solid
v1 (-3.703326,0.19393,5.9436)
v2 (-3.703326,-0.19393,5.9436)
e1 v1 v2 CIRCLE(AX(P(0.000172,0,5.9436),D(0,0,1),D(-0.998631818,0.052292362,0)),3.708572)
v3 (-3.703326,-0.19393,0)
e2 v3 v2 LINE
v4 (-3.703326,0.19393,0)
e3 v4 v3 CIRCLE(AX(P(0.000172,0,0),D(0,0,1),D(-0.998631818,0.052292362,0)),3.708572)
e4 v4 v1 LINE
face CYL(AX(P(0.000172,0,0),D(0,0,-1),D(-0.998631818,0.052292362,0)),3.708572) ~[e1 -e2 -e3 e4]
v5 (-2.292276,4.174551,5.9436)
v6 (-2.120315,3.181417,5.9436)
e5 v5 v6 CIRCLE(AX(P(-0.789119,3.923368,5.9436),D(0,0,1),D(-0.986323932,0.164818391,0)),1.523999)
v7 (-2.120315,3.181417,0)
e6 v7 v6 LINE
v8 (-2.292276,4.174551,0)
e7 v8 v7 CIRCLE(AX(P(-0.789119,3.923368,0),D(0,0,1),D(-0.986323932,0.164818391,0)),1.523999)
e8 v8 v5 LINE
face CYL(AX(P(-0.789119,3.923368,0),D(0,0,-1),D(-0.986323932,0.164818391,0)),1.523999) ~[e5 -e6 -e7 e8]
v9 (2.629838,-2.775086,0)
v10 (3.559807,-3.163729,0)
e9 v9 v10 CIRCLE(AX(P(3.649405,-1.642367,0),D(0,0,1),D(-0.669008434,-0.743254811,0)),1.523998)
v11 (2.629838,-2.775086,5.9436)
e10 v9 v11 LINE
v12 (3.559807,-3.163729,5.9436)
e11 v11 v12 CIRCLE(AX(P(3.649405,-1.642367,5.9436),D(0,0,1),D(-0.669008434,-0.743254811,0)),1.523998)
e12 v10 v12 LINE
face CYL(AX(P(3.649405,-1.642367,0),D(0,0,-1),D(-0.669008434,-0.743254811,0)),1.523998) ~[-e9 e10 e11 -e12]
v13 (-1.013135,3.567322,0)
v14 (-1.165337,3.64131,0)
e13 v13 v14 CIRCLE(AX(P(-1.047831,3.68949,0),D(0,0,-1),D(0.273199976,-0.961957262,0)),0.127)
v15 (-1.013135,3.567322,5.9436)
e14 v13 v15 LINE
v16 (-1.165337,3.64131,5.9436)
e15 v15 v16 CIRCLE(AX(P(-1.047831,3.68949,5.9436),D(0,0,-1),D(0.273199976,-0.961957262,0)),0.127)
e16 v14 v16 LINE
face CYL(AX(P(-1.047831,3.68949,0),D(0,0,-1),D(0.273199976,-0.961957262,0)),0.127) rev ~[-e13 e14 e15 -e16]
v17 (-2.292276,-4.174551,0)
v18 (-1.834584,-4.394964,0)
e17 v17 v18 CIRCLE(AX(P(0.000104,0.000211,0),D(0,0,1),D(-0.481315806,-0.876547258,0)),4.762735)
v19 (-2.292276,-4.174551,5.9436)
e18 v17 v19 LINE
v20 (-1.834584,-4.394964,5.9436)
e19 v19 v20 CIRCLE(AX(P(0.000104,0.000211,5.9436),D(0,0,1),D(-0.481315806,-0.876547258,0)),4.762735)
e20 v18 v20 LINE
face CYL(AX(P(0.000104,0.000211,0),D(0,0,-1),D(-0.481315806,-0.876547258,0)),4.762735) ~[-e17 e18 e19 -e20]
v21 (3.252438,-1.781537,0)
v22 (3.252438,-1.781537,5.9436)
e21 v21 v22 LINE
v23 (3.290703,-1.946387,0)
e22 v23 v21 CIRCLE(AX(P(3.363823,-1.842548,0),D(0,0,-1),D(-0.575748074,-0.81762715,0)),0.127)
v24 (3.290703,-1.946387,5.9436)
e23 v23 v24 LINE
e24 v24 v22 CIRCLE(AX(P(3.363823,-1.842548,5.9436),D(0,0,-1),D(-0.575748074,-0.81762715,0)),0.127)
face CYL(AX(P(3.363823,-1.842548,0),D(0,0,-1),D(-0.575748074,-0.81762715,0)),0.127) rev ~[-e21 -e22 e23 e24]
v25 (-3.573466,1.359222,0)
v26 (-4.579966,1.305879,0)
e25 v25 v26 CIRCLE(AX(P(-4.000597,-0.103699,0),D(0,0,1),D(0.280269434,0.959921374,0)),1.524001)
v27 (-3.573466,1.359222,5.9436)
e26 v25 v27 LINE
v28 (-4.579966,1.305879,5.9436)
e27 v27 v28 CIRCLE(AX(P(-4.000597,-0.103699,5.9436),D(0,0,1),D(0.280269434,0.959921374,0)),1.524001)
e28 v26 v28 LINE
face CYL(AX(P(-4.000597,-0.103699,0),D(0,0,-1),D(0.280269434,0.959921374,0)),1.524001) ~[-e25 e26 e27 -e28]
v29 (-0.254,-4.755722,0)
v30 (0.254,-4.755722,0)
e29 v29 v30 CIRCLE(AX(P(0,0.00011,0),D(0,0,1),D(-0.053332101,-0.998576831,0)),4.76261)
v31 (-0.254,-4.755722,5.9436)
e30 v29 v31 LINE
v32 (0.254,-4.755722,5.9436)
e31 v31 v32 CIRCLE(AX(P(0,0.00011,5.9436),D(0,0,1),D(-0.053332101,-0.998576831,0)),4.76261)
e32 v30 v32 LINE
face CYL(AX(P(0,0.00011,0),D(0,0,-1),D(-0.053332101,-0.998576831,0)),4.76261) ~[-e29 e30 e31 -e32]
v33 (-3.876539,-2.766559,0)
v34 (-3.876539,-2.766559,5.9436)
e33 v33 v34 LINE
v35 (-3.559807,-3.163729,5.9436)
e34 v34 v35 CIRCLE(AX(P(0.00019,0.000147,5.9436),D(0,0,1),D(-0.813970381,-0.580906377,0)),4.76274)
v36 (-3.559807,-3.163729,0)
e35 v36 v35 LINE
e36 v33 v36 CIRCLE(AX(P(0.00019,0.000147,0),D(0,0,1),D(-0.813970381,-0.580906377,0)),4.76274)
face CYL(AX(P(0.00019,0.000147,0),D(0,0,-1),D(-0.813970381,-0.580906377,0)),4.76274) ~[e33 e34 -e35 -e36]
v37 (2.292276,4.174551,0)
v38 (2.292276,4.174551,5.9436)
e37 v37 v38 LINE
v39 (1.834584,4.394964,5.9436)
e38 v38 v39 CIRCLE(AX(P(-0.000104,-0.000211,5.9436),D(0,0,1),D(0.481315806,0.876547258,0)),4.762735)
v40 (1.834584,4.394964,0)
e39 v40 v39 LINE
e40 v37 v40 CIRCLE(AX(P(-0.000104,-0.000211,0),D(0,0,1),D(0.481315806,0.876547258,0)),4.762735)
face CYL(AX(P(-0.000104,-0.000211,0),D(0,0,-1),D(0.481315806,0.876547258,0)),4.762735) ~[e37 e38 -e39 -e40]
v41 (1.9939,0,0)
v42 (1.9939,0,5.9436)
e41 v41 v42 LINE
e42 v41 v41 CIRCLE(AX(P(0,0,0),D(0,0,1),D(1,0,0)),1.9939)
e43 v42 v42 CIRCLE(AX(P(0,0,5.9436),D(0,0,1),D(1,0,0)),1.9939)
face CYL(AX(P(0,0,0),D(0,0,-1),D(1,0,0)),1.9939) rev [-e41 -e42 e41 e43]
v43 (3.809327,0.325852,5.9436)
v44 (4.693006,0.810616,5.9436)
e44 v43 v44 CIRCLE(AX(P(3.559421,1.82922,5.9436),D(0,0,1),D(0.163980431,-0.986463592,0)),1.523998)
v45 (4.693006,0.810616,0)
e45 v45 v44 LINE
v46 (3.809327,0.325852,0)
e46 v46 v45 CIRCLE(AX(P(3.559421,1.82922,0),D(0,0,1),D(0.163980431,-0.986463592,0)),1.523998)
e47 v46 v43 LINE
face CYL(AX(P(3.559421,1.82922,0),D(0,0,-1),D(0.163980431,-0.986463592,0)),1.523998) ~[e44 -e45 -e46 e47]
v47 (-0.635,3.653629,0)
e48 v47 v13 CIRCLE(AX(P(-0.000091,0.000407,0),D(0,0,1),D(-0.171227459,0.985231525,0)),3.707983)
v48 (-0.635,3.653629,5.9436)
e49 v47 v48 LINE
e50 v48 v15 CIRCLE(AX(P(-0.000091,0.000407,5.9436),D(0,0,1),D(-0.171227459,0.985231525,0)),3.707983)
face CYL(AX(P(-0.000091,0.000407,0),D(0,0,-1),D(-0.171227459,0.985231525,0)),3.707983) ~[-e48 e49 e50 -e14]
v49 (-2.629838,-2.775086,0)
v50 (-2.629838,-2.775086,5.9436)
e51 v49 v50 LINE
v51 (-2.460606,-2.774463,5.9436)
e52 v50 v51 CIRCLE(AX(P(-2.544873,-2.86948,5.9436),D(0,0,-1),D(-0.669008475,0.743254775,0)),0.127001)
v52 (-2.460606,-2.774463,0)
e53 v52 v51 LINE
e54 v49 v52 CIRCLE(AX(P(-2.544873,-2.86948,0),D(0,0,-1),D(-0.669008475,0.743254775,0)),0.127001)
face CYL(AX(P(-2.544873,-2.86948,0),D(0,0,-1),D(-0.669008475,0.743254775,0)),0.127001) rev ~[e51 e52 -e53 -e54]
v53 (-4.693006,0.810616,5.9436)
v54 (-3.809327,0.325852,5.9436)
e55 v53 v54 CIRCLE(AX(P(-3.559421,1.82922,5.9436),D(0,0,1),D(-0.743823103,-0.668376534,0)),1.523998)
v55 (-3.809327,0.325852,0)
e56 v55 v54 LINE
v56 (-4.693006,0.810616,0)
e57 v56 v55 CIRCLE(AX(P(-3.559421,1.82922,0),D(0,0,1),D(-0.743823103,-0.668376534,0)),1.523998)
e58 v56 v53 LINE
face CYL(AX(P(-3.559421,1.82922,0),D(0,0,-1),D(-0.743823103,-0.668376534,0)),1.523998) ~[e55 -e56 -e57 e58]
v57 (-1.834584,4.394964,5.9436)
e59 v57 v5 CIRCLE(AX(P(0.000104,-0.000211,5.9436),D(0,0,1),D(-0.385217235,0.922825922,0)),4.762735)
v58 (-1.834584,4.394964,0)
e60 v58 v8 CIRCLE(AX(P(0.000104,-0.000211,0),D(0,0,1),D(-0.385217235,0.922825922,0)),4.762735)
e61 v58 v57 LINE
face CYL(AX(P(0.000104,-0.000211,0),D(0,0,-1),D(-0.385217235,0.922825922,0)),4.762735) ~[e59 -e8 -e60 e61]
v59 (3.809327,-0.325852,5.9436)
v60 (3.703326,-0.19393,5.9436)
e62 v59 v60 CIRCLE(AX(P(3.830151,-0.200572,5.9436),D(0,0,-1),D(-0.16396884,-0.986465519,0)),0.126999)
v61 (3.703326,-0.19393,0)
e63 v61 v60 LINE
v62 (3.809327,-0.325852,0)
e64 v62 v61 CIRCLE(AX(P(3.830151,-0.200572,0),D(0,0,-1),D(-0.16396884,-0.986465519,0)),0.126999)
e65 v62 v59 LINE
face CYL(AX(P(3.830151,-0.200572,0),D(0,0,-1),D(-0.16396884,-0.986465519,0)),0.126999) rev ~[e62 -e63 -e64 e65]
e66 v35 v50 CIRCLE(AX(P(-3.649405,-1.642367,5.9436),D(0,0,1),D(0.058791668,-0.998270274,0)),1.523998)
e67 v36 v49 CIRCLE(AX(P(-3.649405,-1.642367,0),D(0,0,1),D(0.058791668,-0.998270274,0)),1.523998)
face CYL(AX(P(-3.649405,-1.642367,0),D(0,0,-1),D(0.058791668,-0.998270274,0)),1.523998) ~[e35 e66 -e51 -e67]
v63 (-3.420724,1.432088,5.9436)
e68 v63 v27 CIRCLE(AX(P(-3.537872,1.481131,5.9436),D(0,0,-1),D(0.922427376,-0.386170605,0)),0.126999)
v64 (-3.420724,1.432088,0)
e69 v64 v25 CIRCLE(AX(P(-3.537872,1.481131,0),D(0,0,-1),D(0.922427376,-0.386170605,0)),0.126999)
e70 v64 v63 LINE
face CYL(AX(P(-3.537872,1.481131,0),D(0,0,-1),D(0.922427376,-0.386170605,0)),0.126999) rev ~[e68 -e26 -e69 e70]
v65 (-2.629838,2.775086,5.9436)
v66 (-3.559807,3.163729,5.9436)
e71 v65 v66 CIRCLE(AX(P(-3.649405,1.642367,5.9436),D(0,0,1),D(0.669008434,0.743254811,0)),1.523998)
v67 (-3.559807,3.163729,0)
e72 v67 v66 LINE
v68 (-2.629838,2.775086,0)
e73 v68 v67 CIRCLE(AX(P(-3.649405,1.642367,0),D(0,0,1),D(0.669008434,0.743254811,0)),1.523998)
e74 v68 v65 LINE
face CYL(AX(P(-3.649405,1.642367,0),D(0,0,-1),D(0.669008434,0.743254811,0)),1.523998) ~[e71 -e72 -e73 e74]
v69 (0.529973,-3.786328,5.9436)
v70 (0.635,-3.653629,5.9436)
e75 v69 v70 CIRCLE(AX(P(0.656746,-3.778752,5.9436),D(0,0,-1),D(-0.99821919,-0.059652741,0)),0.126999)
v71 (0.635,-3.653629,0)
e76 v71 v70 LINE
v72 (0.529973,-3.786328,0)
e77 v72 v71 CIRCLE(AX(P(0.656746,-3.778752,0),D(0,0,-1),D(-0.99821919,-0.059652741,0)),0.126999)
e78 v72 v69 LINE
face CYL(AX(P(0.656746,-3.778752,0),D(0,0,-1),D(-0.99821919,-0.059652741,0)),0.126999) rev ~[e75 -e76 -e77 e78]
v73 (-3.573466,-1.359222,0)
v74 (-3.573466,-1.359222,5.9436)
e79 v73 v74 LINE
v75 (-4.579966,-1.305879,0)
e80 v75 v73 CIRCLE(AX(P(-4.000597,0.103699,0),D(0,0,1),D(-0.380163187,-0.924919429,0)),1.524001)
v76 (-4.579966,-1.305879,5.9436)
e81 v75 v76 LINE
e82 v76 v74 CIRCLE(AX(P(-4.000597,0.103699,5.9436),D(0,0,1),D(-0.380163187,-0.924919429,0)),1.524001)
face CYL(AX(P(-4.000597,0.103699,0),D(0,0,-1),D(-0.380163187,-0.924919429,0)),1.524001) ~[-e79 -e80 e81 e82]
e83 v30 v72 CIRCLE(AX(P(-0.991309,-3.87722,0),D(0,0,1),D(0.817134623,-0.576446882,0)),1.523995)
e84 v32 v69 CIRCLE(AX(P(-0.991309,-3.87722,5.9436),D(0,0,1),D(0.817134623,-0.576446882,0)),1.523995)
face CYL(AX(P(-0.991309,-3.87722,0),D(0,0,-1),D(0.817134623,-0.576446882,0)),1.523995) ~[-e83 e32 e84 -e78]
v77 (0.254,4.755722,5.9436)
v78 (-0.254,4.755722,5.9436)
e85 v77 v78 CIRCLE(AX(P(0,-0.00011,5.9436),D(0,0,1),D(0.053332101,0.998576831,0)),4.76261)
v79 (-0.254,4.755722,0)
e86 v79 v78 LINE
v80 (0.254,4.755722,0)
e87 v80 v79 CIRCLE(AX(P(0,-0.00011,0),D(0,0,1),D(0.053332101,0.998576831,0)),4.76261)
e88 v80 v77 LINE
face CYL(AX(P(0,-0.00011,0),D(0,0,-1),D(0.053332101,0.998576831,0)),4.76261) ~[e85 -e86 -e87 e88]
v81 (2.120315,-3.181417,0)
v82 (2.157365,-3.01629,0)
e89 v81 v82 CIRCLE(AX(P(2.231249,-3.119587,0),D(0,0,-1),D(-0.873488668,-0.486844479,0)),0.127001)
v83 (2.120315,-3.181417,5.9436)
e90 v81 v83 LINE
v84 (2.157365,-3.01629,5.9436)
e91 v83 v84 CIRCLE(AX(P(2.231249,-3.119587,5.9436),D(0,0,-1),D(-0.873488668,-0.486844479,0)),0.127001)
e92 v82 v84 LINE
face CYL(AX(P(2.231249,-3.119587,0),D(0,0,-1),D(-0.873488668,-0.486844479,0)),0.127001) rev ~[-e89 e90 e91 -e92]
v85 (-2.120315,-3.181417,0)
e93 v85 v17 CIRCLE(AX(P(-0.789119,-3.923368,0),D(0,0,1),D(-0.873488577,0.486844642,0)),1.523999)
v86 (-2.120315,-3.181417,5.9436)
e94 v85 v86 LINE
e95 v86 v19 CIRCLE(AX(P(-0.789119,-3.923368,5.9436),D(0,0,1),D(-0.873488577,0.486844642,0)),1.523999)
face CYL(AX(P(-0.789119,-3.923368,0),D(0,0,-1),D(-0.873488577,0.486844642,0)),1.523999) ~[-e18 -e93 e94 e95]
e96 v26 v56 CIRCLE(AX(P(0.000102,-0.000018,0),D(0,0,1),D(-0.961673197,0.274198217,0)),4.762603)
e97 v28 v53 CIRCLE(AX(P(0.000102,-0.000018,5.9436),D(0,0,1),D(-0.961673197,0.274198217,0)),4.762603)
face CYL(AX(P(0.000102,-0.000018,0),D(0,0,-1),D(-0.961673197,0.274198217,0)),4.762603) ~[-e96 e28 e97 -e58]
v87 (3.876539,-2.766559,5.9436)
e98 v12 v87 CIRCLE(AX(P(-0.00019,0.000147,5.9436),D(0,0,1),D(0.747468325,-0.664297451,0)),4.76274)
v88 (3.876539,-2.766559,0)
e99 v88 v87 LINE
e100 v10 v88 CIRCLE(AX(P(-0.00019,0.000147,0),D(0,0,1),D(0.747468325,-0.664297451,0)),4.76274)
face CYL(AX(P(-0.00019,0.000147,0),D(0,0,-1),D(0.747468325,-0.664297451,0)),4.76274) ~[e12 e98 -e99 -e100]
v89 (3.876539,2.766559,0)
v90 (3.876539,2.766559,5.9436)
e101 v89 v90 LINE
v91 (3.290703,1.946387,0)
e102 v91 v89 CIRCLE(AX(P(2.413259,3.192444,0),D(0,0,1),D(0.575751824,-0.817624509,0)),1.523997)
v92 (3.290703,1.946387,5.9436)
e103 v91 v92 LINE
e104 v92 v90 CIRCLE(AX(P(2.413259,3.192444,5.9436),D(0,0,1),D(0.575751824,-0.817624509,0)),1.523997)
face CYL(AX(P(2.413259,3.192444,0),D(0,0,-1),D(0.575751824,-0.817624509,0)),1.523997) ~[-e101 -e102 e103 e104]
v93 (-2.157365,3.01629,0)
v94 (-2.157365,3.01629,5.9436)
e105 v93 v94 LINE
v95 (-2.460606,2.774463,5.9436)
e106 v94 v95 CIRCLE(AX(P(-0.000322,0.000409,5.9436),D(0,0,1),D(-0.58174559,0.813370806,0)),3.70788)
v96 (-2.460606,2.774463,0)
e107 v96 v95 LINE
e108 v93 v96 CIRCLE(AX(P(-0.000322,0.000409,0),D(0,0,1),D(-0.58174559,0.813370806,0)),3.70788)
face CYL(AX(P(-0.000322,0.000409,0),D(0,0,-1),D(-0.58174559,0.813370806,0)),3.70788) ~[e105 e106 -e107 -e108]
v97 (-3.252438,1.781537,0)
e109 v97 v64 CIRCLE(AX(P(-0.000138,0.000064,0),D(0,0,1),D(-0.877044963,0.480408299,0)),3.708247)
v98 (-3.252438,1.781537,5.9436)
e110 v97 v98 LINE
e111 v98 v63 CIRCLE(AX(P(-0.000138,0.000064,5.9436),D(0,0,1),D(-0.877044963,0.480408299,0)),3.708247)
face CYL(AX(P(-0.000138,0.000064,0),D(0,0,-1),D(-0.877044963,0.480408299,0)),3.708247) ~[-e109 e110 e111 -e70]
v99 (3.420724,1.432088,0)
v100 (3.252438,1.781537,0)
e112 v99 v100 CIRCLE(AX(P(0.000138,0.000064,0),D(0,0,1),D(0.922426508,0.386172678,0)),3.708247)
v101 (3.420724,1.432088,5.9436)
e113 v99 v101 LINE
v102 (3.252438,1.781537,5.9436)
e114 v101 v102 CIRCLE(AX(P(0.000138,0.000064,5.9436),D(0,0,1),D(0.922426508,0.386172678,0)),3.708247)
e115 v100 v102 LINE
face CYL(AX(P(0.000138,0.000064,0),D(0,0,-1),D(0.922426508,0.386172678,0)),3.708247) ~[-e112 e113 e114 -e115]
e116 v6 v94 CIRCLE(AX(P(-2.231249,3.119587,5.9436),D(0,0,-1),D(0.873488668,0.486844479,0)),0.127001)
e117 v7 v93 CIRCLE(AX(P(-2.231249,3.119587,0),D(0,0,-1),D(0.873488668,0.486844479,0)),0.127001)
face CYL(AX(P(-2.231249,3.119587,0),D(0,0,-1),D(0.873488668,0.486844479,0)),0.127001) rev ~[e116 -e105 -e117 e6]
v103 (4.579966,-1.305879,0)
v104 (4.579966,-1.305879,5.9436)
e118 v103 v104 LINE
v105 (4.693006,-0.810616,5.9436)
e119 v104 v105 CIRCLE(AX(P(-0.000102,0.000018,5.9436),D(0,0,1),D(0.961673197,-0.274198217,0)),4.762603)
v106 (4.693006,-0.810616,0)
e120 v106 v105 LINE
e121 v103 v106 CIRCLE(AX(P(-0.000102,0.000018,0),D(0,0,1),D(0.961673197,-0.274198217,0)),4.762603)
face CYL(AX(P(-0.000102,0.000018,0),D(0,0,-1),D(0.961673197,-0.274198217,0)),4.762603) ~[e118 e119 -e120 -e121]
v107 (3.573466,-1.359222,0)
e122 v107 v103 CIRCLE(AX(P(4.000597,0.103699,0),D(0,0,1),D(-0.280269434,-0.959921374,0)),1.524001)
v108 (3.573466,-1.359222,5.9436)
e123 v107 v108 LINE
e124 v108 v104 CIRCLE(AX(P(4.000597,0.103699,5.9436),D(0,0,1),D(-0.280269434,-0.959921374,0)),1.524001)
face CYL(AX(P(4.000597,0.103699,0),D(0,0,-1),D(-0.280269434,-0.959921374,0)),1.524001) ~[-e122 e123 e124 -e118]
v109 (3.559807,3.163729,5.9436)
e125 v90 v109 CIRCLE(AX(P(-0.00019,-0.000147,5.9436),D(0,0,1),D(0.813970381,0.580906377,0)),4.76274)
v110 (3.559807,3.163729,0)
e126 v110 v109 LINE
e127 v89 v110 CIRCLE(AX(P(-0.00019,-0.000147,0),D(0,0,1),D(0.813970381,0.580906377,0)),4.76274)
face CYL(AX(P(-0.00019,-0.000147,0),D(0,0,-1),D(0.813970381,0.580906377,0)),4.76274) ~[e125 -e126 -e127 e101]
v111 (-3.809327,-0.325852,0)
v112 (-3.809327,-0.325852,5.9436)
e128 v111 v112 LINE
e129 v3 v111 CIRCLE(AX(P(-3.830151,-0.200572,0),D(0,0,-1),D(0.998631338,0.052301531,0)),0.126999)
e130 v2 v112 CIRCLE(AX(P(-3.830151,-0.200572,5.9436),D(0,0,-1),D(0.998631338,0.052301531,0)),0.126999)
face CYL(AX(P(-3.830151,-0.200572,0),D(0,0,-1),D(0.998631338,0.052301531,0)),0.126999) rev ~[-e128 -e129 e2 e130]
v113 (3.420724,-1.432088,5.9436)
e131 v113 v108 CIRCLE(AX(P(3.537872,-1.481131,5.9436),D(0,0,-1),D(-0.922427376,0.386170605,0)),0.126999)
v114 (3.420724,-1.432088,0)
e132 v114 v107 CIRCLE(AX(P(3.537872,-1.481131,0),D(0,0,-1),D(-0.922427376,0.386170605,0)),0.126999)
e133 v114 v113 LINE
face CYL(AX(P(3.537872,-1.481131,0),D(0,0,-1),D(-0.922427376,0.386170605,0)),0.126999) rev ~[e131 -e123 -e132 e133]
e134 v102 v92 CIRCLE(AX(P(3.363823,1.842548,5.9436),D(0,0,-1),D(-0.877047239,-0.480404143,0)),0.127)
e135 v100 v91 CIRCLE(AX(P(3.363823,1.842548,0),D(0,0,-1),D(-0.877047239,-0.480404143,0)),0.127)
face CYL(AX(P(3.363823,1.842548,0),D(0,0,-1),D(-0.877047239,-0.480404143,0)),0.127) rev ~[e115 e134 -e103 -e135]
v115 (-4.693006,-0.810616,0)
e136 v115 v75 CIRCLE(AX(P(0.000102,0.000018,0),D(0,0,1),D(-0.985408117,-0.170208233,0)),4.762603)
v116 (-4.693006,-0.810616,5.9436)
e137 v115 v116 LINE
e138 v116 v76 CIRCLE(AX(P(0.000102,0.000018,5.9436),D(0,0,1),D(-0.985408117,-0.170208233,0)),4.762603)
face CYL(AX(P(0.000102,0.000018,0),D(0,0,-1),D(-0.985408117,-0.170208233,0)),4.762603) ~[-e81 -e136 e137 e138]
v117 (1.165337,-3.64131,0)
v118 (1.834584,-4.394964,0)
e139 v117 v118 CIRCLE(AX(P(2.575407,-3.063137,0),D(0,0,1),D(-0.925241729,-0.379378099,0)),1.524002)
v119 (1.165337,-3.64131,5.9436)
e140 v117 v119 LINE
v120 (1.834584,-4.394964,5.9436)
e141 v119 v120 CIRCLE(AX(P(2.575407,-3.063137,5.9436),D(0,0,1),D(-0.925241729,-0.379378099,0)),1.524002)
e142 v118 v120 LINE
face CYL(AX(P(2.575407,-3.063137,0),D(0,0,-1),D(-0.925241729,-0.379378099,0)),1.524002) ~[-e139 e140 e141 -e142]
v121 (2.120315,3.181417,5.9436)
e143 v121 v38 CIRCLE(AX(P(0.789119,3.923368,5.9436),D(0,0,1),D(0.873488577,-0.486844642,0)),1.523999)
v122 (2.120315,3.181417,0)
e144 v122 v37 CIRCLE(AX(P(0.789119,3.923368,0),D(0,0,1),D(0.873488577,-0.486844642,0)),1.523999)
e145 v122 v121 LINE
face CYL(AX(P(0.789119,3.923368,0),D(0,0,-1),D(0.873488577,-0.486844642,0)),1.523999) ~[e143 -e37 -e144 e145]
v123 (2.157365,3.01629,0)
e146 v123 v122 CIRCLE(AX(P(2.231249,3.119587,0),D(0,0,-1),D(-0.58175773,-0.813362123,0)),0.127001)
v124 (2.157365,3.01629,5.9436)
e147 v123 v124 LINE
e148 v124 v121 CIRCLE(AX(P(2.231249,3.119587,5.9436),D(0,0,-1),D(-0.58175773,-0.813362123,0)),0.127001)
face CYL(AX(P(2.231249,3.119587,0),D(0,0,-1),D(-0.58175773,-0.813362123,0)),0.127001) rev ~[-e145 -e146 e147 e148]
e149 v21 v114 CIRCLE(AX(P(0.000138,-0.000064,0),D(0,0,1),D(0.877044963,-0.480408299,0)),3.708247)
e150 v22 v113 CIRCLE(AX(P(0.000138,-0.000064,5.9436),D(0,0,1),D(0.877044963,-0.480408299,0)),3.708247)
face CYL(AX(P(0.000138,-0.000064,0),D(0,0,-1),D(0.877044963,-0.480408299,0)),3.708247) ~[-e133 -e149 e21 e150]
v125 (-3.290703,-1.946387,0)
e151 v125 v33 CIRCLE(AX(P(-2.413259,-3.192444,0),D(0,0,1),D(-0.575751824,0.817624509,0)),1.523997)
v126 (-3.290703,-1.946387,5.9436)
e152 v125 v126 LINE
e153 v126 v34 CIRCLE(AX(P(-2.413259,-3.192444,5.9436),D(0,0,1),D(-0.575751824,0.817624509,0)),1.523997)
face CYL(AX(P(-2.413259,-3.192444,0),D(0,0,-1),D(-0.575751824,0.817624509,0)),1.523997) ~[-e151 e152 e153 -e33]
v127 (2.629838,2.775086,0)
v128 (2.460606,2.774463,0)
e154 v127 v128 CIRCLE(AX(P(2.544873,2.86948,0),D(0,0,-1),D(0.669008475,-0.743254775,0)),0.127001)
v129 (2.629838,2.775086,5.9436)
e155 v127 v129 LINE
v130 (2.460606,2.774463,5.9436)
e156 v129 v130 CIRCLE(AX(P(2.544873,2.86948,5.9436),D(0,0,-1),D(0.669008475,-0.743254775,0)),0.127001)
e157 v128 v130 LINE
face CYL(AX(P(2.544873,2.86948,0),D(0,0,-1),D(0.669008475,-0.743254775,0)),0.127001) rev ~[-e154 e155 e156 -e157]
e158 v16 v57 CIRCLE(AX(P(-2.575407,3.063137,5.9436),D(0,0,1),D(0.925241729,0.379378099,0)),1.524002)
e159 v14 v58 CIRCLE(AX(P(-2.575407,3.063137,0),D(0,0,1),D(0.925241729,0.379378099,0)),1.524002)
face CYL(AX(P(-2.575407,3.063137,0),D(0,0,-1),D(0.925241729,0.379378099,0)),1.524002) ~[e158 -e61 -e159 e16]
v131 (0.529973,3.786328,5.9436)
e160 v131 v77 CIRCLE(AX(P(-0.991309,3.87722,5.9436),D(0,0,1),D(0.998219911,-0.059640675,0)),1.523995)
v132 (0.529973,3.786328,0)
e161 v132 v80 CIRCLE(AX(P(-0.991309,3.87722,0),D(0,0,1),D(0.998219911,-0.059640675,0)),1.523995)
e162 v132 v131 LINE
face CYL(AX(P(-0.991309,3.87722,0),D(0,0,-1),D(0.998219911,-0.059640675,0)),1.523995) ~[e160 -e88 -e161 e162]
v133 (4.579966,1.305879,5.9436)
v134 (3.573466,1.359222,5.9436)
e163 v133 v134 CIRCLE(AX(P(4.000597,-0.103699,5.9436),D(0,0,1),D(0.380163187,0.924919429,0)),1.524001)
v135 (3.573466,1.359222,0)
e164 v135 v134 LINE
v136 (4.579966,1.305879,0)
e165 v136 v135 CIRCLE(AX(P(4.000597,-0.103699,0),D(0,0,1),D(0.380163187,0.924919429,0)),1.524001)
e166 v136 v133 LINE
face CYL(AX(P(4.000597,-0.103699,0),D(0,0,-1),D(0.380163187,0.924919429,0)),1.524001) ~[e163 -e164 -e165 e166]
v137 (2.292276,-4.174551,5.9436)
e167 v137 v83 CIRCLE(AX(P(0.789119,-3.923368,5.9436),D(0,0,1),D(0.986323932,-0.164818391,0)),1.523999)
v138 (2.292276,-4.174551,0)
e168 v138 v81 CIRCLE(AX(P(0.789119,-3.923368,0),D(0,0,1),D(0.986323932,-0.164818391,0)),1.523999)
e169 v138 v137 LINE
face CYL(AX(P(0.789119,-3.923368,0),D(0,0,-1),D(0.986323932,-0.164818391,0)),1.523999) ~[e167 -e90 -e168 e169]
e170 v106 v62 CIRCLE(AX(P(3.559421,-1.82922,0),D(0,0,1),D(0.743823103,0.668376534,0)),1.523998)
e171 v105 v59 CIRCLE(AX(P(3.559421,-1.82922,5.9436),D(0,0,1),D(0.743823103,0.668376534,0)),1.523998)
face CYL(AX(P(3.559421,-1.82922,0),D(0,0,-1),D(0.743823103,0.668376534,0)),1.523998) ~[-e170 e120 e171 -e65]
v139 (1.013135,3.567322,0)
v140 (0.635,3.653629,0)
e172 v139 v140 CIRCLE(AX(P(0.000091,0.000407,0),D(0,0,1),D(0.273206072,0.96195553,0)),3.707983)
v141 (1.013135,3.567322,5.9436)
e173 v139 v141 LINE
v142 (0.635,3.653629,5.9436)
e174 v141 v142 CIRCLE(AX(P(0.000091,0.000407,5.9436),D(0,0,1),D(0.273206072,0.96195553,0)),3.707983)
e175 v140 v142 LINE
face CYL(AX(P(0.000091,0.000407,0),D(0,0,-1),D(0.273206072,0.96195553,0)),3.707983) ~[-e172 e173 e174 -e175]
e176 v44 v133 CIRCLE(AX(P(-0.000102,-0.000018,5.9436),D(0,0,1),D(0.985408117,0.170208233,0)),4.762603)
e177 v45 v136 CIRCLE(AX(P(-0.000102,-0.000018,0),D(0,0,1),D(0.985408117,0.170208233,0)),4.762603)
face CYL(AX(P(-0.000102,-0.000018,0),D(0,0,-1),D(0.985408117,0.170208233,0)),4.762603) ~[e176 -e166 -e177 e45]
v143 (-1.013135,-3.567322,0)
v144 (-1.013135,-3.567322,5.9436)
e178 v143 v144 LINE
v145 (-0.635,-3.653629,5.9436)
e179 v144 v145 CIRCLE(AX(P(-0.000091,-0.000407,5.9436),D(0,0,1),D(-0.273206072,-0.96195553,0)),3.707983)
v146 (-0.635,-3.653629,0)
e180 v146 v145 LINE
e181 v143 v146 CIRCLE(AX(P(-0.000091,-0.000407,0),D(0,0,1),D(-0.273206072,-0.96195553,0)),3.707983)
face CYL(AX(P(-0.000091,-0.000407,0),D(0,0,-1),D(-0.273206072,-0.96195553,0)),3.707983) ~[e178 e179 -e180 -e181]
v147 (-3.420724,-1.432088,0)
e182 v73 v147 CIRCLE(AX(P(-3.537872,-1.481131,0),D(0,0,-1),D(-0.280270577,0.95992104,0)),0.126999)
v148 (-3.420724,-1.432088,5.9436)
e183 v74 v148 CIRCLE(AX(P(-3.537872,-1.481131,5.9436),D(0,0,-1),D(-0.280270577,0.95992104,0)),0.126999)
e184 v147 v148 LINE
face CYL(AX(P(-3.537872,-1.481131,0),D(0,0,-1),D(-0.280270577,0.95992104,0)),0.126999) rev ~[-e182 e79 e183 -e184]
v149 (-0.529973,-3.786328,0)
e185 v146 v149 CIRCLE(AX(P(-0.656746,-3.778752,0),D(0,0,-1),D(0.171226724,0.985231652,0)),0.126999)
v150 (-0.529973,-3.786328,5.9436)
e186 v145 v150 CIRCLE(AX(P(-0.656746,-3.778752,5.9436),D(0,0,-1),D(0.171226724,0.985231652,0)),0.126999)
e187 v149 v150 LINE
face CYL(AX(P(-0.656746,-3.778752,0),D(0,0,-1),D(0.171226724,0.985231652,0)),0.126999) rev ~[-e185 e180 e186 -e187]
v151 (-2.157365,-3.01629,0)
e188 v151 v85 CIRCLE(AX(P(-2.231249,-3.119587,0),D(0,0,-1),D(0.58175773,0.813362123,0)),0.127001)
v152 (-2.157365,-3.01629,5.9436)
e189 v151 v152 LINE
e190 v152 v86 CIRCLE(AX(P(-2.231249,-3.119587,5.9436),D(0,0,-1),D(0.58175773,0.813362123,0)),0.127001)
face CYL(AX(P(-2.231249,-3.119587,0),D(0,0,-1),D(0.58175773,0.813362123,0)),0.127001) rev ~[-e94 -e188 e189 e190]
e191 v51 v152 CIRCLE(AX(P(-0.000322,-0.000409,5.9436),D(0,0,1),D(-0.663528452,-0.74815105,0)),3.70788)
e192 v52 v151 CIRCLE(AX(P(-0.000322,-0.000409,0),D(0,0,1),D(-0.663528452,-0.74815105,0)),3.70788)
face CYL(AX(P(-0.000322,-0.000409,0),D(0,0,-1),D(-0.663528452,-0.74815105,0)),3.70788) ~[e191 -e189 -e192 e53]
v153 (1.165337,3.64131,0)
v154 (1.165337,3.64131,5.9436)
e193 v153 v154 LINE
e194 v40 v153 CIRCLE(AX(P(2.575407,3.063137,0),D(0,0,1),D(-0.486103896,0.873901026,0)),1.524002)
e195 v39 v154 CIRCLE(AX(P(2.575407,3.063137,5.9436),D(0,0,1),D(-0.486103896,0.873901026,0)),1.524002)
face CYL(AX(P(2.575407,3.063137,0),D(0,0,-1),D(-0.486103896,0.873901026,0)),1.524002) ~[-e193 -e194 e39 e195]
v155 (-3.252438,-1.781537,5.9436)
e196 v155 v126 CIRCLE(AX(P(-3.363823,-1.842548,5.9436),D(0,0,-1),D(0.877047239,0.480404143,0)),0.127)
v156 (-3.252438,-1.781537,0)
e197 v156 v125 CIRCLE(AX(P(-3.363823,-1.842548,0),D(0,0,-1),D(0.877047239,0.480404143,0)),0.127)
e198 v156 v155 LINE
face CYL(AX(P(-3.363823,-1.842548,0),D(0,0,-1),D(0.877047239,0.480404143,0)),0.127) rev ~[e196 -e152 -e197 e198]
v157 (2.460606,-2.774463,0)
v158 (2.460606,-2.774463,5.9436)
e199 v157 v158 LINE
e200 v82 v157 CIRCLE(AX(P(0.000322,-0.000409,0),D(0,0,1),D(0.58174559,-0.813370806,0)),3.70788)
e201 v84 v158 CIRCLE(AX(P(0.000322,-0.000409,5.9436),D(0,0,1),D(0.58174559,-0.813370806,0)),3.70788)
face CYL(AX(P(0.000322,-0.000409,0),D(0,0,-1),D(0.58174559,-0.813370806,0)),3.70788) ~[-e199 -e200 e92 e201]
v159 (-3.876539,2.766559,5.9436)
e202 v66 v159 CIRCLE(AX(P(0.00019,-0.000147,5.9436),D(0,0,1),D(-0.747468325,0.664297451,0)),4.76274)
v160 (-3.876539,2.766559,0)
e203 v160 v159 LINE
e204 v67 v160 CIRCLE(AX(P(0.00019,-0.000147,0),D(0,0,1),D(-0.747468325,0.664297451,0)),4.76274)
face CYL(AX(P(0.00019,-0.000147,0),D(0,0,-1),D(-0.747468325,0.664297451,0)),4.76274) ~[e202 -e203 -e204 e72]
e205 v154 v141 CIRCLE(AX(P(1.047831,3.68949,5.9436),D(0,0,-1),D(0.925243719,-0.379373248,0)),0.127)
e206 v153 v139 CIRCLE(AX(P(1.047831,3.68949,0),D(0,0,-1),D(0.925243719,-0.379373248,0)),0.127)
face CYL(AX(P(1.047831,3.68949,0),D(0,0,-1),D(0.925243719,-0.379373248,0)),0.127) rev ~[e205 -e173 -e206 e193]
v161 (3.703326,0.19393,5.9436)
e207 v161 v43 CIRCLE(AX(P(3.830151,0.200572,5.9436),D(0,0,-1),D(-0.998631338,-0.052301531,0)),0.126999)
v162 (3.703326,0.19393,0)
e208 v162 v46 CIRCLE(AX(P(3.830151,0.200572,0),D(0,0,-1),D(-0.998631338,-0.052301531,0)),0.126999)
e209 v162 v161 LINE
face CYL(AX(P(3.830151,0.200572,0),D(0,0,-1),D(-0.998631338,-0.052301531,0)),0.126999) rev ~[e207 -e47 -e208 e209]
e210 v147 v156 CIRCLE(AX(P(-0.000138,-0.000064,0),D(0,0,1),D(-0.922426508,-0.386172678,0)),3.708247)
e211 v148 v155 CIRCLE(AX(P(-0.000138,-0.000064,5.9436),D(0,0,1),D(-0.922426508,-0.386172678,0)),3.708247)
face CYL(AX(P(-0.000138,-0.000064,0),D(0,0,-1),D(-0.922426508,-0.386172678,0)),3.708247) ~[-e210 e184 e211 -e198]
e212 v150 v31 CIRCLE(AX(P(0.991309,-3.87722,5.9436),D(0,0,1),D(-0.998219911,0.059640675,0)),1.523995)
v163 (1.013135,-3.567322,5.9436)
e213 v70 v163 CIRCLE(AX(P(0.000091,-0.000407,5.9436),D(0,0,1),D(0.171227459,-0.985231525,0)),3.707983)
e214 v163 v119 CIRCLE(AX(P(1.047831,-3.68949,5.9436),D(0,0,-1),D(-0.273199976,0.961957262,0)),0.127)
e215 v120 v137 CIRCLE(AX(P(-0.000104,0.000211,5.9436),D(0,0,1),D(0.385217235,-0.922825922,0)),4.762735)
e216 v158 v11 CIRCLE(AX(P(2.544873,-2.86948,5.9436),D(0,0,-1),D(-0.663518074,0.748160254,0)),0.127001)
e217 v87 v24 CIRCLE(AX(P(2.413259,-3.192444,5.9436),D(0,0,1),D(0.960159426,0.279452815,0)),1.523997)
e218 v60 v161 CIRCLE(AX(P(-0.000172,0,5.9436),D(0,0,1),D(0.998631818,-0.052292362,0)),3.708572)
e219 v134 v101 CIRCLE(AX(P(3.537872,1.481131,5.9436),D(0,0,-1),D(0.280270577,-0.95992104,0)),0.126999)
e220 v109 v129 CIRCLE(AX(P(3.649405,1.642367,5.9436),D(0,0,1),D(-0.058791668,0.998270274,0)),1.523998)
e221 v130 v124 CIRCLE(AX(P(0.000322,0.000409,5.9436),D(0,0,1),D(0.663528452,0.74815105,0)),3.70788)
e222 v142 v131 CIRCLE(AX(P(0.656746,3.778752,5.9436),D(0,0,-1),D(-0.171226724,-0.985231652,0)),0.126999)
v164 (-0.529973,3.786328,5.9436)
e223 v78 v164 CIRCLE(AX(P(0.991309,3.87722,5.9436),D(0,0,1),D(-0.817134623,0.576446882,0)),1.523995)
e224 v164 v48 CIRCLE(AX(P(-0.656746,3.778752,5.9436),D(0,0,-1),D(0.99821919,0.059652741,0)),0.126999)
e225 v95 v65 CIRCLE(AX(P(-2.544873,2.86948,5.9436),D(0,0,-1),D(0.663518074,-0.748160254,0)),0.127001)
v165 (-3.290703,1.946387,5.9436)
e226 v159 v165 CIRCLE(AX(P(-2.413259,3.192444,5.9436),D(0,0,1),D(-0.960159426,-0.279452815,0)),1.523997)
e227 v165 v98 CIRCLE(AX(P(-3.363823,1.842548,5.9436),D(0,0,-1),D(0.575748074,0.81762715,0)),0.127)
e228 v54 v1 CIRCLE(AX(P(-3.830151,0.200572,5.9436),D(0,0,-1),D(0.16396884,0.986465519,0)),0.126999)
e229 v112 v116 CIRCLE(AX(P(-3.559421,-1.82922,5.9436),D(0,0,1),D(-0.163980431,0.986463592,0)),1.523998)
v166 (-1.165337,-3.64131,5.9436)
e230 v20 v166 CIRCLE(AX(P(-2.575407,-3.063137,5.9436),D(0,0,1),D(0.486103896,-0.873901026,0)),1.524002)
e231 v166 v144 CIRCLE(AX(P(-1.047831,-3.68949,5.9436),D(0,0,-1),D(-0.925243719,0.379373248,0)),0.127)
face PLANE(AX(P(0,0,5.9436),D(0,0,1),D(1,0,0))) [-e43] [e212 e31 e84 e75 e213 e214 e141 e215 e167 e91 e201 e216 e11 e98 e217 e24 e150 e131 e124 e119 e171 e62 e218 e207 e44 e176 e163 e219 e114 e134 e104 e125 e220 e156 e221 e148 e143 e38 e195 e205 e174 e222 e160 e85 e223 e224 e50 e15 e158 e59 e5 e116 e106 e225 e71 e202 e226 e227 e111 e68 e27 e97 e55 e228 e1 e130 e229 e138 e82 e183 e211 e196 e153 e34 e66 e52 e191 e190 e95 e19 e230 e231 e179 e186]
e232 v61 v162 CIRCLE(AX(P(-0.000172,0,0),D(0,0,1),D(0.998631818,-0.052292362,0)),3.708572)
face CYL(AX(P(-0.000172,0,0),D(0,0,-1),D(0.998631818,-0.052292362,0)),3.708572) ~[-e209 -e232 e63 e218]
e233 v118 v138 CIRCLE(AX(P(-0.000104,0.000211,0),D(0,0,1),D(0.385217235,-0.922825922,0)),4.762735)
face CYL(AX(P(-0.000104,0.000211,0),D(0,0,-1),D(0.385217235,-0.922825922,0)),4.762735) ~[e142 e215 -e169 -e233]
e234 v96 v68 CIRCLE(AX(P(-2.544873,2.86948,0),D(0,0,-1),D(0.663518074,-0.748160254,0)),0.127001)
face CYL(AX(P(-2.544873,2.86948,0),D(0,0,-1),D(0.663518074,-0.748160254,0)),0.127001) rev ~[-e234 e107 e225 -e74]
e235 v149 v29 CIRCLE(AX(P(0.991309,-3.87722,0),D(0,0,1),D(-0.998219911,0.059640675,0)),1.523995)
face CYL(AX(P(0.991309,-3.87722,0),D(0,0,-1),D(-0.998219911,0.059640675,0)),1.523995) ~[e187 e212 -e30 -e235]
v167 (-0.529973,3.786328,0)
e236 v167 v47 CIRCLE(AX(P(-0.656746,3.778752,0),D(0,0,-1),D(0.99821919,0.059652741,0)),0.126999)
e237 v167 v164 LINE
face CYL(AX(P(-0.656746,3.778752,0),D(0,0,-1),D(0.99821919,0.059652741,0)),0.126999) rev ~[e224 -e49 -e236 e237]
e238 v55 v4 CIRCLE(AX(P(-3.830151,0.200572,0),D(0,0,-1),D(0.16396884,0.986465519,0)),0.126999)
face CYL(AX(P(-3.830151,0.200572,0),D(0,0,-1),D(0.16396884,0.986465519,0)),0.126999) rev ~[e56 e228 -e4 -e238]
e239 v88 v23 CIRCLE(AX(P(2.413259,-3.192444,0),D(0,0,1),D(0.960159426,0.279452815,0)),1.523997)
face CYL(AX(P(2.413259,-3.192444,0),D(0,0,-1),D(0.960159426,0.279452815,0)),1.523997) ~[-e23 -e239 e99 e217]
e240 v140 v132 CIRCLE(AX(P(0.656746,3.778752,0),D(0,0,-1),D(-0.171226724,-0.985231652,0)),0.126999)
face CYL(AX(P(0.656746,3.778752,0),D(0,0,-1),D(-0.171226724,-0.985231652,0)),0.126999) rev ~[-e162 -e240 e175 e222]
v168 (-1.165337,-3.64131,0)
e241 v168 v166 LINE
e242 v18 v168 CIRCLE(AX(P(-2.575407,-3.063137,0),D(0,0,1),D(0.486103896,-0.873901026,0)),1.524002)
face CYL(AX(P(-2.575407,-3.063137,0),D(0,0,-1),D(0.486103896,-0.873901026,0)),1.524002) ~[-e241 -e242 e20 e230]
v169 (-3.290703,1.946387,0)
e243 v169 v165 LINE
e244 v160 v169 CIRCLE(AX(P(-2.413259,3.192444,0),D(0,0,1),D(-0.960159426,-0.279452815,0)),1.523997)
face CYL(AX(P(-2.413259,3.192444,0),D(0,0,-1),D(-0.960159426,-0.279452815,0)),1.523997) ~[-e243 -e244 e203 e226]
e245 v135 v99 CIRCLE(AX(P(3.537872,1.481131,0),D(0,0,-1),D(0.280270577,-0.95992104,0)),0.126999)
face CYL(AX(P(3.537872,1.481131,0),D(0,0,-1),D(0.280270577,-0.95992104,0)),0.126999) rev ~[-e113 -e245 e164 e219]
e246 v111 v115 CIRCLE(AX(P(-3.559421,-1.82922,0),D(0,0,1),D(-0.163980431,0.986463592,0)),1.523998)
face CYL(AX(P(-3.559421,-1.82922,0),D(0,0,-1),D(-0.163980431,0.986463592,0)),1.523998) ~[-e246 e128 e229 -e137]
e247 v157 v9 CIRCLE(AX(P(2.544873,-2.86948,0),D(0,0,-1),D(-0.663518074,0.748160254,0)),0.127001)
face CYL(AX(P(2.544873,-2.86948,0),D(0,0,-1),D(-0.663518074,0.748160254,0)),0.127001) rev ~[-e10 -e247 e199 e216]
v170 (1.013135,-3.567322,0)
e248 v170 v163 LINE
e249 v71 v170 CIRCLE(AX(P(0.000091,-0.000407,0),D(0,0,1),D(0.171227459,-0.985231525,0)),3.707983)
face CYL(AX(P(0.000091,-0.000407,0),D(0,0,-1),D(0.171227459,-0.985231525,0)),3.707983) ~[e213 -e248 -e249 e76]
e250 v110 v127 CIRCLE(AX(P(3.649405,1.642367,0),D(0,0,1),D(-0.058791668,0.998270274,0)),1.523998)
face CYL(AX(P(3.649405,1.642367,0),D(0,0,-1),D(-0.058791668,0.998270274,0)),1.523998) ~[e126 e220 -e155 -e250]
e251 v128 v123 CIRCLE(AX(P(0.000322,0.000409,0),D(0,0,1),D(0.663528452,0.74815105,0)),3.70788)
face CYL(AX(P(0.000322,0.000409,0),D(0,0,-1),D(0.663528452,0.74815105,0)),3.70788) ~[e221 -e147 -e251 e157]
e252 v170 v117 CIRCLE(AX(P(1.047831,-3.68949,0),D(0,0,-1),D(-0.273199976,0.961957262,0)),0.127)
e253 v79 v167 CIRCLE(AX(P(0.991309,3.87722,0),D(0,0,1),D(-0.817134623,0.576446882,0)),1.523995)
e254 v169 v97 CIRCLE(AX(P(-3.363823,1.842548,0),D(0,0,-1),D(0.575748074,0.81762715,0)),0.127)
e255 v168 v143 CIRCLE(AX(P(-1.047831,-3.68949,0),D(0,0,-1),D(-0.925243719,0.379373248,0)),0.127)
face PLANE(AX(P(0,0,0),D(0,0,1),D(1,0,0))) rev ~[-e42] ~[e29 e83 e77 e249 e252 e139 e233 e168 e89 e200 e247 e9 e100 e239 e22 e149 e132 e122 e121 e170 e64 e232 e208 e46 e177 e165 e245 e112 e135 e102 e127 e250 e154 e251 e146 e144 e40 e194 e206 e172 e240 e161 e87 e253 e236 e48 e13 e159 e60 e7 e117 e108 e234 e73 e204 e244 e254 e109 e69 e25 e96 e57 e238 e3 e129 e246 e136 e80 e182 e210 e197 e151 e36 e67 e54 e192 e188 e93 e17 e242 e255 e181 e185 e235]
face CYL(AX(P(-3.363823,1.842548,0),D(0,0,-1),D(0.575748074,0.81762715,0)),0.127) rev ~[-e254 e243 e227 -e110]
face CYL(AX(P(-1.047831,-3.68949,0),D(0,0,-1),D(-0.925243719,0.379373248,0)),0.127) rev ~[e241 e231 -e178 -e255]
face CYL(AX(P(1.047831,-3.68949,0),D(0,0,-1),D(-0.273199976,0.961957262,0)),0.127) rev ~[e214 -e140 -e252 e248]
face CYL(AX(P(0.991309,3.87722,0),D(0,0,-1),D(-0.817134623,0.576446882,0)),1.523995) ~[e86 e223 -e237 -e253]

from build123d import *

# Parameters (mm, degrees)
F0_R     = 1.9939
F1_DEPTH = 5.9436


with BuildPart() as f1:
    # F0 (on Top) → F1 (new body)
    with BuildSketch(Plane.XY):
        with BuildLine():
            ThreePointArc((1.165337, 3.64131), (1.103355, 3.575271), (1.013135, 3.567322))
            ThreePointArc((1.013135, 3.567322), (0.825197, 3.615423), (0.635, 3.653629))
            ThreePointArc((0.635, 3.653629), (0.557163, 3.699936), (0.529973, 3.786328))
            ThreePointArc((0.529973, 3.786328), (0.474446, 4.2945), (0.254, 4.755722))
            ThreePointArc((0.254, 4.755722), (0, 4.7625), (-0.254, 4.755722))
            ThreePointArc((-0.254, 4.755722), (-0.474446, 4.2945), (-0.529973, 3.786328))
            ThreePointArc((-0.529973, 3.786328), (-0.557163, 3.699936), (-0.635, 3.653629))
            ThreePointArc((-0.635, 3.653629), (-0.825197, 3.615423), (-1.013135, 3.567322))
            ThreePointArc((-1.013135, 3.567322), (-1.103355, 3.575271), (-1.165337, 3.64131))
            ThreePointArc((-1.165337, 3.64131), (-1.435853, 4.075065), (-1.834584, 4.394964))
            ThreePointArc((-1.834584, 4.394964), (-2.066371, 4.290864), (-2.292276, 4.174551))
            ThreePointArc((-2.292276, 4.174551), (-2.290774, 3.663356), (-2.120315, 3.181417))
            ThreePointArc((-2.120315, 3.181417), (-2.107329, 3.091783), (-2.157365, 3.01629))
            ThreePointArc((-2.157365, 3.01629), (-2.31215, 2.899344), (-2.460606, 2.774463))
            ThreePointArc((-2.460606, 2.774463), (-2.545341, 2.74248), (-2.629838, 2.775086))
            ThreePointArc((-2.629838, 2.775086), (-3.061763, 3.048513), (-3.559807, 3.163729))
            ThreePointArc((-3.559807, 3.163729), (-3.723472, 2.96937), (-3.876539, 2.766559))
            ThreePointArc((-3.876539, 2.766559), (-3.653387, 2.30664), (-3.290703, 1.946387))
            ThreePointArc((-3.290703, 1.946387), (-3.240112, 1.871264), (-3.252438, 1.781537))
            ThreePointArc((-3.252438, 1.781537), (-3.341153, 1.609014), (-3.420724, 1.432088))
            ThreePointArc((-3.420724, 1.432088), (-3.48319, 1.366507), (-3.573466, 1.359222))
            ThreePointArc((-3.573466, 1.359222), (-4.081254, 1.418166), (-4.579966, 1.305879))
            ThreePointArc((-4.579966, 1.305879), (-4.643094, 1.059756), (-4.693006, 0.810616))
            ThreePointArc((-4.693006, 0.810616), (-4.292402, 0.493066), (-3.809327, 0.325852))
            ThreePointArc((-3.809327, 0.325852), (-3.731151, 0.280119), (-3.703326, 0.19393))
            ThreePointArc((-3.703326, 0.19393), (-3.7084, 0), (-3.703326, -0.19393))
            ThreePointArc((-3.703326, -0.19393), (-3.731151, -0.280119), (-3.809327, -0.325852))
            ThreePointArc((-3.809327, -0.325852), (-4.292402, -0.493066), (-4.693006, -0.810616))
            ThreePointArc((-4.693006, -0.810616), (-4.643094, -1.059756), (-4.579966, -1.305879))
            ThreePointArc((-4.579966, -1.305879), (-4.081254, -1.418166), (-3.573466, -1.359222))
            ThreePointArc((-3.573466, -1.359222), (-3.48319, -1.366507), (-3.420724, -1.432088))
            ThreePointArc((-3.420724, -1.432088), (-3.341153, -1.609014), (-3.252438, -1.781537))
            ThreePointArc((-3.252438, -1.781537), (-3.240112, -1.871264), (-3.290703, -1.946387))
            ThreePointArc((-3.290703, -1.946387), (-3.653387, -2.30664), (-3.876539, -2.766559))
            ThreePointArc((-3.876539, -2.766559), (-3.723472, -2.96937), (-3.559807, -3.163729))
            ThreePointArc((-3.559807, -3.163729), (-3.061763, -3.048513), (-2.629838, -2.775086))
            ThreePointArc((-2.629838, -2.775086), (-2.545341, -2.74248), (-2.460606, -2.774463))
            ThreePointArc((-2.460606, -2.774463), (-2.31215, -2.899344), (-2.157365, -3.01629))
            ThreePointArc((-2.157365, -3.01629), (-2.107329, -3.091783), (-2.120315, -3.181417))
            ThreePointArc((-2.120315, -3.181417), (-2.290774, -3.663356), (-2.292276, -4.174551))
            ThreePointArc((-2.292276, -4.174551), (-2.066371, -4.290864), (-1.834584, -4.394964))
            ThreePointArc((-1.834584, -4.394964), (-1.435853, -4.075065), (-1.165337, -3.64131))
            ThreePointArc((-1.165337, -3.64131), (-1.103355, -3.575271), (-1.013135, -3.567322))
            ThreePointArc((-1.013135, -3.567322), (-0.825197, -3.615423), (-0.635, -3.653629))
            ThreePointArc((-0.635, -3.653629), (-0.557163, -3.699936), (-0.529973, -3.786328))
            ThreePointArc((-0.529973, -3.786328), (-0.474446, -4.2945), (-0.254, -4.755722))
            ThreePointArc((-0.254, -4.755722), (0, -4.7625), (0.254, -4.755722))
            ThreePointArc((0.254, -4.755722), (0.474446, -4.2945), (0.529973, -3.786328))
            ThreePointArc((0.529973, -3.786328), (0.557163, -3.699936), (0.635, -3.653629))
            ThreePointArc((0.635, -3.653629), (0.825197, -3.615423), (1.013135, -3.567322))
            ThreePointArc((1.013135, -3.567322), (1.103355, -3.575271), (1.165337, -3.64131))
            ThreePointArc((1.165337, -3.64131), (1.435853, -4.075065), (1.834584, -4.394964))
            ThreePointArc((1.834584, -4.394964), (2.066371, -4.290864), (2.292276, -4.174551))
            ThreePointArc((2.292276, -4.174551), (2.290774, -3.663356), (2.120315, -3.181417))
            ThreePointArc((2.120315, -3.181417), (2.107329, -3.091783), (2.157365, -3.01629))
            ThreePointArc((2.157365, -3.01629), (2.31215, -2.899344), (2.460606, -2.774463))
            ThreePointArc((2.460606, -2.774463), (2.545341, -2.74248), (2.629838, -2.775086))
            ThreePointArc((2.629838, -2.775086), (3.061763, -3.048513), (3.559807, -3.163729))
            ThreePointArc((3.559807, -3.163729), (3.723472, -2.96937), (3.876539, -2.766559))
            ThreePointArc((3.876539, -2.766559), (3.653387, -2.30664), (3.290703, -1.946387))
            ThreePointArc((3.290703, -1.946387), (3.240112, -1.871264), (3.252438, -1.781537))
            ThreePointArc((3.252438, -1.781537), (3.341153, -1.609014), (3.420724, -1.432088))
            ThreePointArc((3.420724, -1.432088), (3.48319, -1.366507), (3.573466, -1.359222))
            ThreePointArc((3.573466, -1.359222), (4.081254, -1.418166), (4.579966, -1.305879))
            ThreePointArc((4.579966, -1.305879), (4.643094, -1.059756), (4.693006, -0.810616))
            ThreePointArc((4.693006, -0.810616), (4.292402, -0.493066), (3.809327, -0.325852))
            ThreePointArc((3.809327, -0.325852), (3.731151, -0.280119), (3.703326, -0.19393))
            ThreePointArc((3.703326, -0.19393), (3.7084, 0), (3.703326, 0.19393))
            ThreePointArc((3.703326, 0.19393), (3.731151, 0.280119), (3.809327, 0.325852))
            ThreePointArc((3.809327, 0.325852), (4.292402, 0.493066), (4.693006, 0.810616))
            ThreePointArc((4.693006, 0.810616), (4.643094, 1.059756), (4.579966, 1.305879))
            ThreePointArc((4.579966, 1.305879), (4.081254, 1.418166), (3.573466, 1.359222))
            ThreePointArc((3.573466, 1.359222), (3.48319, 1.366507), (3.420724, 1.432088))
            ThreePointArc((3.420724, 1.432088), (3.341153, 1.609014), (3.252438, 1.781537))
            ThreePointArc((3.252438, 1.781537), (3.240112, 1.871264), (3.290703, 1.946387))
            ThreePointArc((3.290703, 1.946387), (3.653387, 2.30664), (3.876539, 2.766559))
            ThreePointArc((3.876539, 2.766559), (3.723472, 2.96937), (3.559807, 3.163729))
            ThreePointArc((3.559807, 3.163729), (3.061763, 3.048513), (2.629838, 2.775086))
            ThreePointArc((2.629838, 2.775086), (2.545341, 2.74248), (2.460606, 2.774463))
            ThreePointArc((2.460606, 2.774463), (2.31215, 2.899344), (2.157365, 3.01629))
            ThreePointArc((2.157365, 3.01629), (2.107329, 3.091783), (2.120315, 3.181417))
            ThreePointArc((2.120315, 3.181417), (2.290774, 3.663356), (2.292276, 4.174551))
            ThreePointArc((2.292276, 4.174551), (2.066371, 4.290864), (1.834584, 4.394964))
            ThreePointArc((1.834584, 4.394964), (1.435853, 4.075065), (1.165337, 3.64131))
        make_face()
        Circle(F0_R, mode=Mode.SUBTRACT)
    extrude(amount=F1_DEPTH)


solid = f1.part
